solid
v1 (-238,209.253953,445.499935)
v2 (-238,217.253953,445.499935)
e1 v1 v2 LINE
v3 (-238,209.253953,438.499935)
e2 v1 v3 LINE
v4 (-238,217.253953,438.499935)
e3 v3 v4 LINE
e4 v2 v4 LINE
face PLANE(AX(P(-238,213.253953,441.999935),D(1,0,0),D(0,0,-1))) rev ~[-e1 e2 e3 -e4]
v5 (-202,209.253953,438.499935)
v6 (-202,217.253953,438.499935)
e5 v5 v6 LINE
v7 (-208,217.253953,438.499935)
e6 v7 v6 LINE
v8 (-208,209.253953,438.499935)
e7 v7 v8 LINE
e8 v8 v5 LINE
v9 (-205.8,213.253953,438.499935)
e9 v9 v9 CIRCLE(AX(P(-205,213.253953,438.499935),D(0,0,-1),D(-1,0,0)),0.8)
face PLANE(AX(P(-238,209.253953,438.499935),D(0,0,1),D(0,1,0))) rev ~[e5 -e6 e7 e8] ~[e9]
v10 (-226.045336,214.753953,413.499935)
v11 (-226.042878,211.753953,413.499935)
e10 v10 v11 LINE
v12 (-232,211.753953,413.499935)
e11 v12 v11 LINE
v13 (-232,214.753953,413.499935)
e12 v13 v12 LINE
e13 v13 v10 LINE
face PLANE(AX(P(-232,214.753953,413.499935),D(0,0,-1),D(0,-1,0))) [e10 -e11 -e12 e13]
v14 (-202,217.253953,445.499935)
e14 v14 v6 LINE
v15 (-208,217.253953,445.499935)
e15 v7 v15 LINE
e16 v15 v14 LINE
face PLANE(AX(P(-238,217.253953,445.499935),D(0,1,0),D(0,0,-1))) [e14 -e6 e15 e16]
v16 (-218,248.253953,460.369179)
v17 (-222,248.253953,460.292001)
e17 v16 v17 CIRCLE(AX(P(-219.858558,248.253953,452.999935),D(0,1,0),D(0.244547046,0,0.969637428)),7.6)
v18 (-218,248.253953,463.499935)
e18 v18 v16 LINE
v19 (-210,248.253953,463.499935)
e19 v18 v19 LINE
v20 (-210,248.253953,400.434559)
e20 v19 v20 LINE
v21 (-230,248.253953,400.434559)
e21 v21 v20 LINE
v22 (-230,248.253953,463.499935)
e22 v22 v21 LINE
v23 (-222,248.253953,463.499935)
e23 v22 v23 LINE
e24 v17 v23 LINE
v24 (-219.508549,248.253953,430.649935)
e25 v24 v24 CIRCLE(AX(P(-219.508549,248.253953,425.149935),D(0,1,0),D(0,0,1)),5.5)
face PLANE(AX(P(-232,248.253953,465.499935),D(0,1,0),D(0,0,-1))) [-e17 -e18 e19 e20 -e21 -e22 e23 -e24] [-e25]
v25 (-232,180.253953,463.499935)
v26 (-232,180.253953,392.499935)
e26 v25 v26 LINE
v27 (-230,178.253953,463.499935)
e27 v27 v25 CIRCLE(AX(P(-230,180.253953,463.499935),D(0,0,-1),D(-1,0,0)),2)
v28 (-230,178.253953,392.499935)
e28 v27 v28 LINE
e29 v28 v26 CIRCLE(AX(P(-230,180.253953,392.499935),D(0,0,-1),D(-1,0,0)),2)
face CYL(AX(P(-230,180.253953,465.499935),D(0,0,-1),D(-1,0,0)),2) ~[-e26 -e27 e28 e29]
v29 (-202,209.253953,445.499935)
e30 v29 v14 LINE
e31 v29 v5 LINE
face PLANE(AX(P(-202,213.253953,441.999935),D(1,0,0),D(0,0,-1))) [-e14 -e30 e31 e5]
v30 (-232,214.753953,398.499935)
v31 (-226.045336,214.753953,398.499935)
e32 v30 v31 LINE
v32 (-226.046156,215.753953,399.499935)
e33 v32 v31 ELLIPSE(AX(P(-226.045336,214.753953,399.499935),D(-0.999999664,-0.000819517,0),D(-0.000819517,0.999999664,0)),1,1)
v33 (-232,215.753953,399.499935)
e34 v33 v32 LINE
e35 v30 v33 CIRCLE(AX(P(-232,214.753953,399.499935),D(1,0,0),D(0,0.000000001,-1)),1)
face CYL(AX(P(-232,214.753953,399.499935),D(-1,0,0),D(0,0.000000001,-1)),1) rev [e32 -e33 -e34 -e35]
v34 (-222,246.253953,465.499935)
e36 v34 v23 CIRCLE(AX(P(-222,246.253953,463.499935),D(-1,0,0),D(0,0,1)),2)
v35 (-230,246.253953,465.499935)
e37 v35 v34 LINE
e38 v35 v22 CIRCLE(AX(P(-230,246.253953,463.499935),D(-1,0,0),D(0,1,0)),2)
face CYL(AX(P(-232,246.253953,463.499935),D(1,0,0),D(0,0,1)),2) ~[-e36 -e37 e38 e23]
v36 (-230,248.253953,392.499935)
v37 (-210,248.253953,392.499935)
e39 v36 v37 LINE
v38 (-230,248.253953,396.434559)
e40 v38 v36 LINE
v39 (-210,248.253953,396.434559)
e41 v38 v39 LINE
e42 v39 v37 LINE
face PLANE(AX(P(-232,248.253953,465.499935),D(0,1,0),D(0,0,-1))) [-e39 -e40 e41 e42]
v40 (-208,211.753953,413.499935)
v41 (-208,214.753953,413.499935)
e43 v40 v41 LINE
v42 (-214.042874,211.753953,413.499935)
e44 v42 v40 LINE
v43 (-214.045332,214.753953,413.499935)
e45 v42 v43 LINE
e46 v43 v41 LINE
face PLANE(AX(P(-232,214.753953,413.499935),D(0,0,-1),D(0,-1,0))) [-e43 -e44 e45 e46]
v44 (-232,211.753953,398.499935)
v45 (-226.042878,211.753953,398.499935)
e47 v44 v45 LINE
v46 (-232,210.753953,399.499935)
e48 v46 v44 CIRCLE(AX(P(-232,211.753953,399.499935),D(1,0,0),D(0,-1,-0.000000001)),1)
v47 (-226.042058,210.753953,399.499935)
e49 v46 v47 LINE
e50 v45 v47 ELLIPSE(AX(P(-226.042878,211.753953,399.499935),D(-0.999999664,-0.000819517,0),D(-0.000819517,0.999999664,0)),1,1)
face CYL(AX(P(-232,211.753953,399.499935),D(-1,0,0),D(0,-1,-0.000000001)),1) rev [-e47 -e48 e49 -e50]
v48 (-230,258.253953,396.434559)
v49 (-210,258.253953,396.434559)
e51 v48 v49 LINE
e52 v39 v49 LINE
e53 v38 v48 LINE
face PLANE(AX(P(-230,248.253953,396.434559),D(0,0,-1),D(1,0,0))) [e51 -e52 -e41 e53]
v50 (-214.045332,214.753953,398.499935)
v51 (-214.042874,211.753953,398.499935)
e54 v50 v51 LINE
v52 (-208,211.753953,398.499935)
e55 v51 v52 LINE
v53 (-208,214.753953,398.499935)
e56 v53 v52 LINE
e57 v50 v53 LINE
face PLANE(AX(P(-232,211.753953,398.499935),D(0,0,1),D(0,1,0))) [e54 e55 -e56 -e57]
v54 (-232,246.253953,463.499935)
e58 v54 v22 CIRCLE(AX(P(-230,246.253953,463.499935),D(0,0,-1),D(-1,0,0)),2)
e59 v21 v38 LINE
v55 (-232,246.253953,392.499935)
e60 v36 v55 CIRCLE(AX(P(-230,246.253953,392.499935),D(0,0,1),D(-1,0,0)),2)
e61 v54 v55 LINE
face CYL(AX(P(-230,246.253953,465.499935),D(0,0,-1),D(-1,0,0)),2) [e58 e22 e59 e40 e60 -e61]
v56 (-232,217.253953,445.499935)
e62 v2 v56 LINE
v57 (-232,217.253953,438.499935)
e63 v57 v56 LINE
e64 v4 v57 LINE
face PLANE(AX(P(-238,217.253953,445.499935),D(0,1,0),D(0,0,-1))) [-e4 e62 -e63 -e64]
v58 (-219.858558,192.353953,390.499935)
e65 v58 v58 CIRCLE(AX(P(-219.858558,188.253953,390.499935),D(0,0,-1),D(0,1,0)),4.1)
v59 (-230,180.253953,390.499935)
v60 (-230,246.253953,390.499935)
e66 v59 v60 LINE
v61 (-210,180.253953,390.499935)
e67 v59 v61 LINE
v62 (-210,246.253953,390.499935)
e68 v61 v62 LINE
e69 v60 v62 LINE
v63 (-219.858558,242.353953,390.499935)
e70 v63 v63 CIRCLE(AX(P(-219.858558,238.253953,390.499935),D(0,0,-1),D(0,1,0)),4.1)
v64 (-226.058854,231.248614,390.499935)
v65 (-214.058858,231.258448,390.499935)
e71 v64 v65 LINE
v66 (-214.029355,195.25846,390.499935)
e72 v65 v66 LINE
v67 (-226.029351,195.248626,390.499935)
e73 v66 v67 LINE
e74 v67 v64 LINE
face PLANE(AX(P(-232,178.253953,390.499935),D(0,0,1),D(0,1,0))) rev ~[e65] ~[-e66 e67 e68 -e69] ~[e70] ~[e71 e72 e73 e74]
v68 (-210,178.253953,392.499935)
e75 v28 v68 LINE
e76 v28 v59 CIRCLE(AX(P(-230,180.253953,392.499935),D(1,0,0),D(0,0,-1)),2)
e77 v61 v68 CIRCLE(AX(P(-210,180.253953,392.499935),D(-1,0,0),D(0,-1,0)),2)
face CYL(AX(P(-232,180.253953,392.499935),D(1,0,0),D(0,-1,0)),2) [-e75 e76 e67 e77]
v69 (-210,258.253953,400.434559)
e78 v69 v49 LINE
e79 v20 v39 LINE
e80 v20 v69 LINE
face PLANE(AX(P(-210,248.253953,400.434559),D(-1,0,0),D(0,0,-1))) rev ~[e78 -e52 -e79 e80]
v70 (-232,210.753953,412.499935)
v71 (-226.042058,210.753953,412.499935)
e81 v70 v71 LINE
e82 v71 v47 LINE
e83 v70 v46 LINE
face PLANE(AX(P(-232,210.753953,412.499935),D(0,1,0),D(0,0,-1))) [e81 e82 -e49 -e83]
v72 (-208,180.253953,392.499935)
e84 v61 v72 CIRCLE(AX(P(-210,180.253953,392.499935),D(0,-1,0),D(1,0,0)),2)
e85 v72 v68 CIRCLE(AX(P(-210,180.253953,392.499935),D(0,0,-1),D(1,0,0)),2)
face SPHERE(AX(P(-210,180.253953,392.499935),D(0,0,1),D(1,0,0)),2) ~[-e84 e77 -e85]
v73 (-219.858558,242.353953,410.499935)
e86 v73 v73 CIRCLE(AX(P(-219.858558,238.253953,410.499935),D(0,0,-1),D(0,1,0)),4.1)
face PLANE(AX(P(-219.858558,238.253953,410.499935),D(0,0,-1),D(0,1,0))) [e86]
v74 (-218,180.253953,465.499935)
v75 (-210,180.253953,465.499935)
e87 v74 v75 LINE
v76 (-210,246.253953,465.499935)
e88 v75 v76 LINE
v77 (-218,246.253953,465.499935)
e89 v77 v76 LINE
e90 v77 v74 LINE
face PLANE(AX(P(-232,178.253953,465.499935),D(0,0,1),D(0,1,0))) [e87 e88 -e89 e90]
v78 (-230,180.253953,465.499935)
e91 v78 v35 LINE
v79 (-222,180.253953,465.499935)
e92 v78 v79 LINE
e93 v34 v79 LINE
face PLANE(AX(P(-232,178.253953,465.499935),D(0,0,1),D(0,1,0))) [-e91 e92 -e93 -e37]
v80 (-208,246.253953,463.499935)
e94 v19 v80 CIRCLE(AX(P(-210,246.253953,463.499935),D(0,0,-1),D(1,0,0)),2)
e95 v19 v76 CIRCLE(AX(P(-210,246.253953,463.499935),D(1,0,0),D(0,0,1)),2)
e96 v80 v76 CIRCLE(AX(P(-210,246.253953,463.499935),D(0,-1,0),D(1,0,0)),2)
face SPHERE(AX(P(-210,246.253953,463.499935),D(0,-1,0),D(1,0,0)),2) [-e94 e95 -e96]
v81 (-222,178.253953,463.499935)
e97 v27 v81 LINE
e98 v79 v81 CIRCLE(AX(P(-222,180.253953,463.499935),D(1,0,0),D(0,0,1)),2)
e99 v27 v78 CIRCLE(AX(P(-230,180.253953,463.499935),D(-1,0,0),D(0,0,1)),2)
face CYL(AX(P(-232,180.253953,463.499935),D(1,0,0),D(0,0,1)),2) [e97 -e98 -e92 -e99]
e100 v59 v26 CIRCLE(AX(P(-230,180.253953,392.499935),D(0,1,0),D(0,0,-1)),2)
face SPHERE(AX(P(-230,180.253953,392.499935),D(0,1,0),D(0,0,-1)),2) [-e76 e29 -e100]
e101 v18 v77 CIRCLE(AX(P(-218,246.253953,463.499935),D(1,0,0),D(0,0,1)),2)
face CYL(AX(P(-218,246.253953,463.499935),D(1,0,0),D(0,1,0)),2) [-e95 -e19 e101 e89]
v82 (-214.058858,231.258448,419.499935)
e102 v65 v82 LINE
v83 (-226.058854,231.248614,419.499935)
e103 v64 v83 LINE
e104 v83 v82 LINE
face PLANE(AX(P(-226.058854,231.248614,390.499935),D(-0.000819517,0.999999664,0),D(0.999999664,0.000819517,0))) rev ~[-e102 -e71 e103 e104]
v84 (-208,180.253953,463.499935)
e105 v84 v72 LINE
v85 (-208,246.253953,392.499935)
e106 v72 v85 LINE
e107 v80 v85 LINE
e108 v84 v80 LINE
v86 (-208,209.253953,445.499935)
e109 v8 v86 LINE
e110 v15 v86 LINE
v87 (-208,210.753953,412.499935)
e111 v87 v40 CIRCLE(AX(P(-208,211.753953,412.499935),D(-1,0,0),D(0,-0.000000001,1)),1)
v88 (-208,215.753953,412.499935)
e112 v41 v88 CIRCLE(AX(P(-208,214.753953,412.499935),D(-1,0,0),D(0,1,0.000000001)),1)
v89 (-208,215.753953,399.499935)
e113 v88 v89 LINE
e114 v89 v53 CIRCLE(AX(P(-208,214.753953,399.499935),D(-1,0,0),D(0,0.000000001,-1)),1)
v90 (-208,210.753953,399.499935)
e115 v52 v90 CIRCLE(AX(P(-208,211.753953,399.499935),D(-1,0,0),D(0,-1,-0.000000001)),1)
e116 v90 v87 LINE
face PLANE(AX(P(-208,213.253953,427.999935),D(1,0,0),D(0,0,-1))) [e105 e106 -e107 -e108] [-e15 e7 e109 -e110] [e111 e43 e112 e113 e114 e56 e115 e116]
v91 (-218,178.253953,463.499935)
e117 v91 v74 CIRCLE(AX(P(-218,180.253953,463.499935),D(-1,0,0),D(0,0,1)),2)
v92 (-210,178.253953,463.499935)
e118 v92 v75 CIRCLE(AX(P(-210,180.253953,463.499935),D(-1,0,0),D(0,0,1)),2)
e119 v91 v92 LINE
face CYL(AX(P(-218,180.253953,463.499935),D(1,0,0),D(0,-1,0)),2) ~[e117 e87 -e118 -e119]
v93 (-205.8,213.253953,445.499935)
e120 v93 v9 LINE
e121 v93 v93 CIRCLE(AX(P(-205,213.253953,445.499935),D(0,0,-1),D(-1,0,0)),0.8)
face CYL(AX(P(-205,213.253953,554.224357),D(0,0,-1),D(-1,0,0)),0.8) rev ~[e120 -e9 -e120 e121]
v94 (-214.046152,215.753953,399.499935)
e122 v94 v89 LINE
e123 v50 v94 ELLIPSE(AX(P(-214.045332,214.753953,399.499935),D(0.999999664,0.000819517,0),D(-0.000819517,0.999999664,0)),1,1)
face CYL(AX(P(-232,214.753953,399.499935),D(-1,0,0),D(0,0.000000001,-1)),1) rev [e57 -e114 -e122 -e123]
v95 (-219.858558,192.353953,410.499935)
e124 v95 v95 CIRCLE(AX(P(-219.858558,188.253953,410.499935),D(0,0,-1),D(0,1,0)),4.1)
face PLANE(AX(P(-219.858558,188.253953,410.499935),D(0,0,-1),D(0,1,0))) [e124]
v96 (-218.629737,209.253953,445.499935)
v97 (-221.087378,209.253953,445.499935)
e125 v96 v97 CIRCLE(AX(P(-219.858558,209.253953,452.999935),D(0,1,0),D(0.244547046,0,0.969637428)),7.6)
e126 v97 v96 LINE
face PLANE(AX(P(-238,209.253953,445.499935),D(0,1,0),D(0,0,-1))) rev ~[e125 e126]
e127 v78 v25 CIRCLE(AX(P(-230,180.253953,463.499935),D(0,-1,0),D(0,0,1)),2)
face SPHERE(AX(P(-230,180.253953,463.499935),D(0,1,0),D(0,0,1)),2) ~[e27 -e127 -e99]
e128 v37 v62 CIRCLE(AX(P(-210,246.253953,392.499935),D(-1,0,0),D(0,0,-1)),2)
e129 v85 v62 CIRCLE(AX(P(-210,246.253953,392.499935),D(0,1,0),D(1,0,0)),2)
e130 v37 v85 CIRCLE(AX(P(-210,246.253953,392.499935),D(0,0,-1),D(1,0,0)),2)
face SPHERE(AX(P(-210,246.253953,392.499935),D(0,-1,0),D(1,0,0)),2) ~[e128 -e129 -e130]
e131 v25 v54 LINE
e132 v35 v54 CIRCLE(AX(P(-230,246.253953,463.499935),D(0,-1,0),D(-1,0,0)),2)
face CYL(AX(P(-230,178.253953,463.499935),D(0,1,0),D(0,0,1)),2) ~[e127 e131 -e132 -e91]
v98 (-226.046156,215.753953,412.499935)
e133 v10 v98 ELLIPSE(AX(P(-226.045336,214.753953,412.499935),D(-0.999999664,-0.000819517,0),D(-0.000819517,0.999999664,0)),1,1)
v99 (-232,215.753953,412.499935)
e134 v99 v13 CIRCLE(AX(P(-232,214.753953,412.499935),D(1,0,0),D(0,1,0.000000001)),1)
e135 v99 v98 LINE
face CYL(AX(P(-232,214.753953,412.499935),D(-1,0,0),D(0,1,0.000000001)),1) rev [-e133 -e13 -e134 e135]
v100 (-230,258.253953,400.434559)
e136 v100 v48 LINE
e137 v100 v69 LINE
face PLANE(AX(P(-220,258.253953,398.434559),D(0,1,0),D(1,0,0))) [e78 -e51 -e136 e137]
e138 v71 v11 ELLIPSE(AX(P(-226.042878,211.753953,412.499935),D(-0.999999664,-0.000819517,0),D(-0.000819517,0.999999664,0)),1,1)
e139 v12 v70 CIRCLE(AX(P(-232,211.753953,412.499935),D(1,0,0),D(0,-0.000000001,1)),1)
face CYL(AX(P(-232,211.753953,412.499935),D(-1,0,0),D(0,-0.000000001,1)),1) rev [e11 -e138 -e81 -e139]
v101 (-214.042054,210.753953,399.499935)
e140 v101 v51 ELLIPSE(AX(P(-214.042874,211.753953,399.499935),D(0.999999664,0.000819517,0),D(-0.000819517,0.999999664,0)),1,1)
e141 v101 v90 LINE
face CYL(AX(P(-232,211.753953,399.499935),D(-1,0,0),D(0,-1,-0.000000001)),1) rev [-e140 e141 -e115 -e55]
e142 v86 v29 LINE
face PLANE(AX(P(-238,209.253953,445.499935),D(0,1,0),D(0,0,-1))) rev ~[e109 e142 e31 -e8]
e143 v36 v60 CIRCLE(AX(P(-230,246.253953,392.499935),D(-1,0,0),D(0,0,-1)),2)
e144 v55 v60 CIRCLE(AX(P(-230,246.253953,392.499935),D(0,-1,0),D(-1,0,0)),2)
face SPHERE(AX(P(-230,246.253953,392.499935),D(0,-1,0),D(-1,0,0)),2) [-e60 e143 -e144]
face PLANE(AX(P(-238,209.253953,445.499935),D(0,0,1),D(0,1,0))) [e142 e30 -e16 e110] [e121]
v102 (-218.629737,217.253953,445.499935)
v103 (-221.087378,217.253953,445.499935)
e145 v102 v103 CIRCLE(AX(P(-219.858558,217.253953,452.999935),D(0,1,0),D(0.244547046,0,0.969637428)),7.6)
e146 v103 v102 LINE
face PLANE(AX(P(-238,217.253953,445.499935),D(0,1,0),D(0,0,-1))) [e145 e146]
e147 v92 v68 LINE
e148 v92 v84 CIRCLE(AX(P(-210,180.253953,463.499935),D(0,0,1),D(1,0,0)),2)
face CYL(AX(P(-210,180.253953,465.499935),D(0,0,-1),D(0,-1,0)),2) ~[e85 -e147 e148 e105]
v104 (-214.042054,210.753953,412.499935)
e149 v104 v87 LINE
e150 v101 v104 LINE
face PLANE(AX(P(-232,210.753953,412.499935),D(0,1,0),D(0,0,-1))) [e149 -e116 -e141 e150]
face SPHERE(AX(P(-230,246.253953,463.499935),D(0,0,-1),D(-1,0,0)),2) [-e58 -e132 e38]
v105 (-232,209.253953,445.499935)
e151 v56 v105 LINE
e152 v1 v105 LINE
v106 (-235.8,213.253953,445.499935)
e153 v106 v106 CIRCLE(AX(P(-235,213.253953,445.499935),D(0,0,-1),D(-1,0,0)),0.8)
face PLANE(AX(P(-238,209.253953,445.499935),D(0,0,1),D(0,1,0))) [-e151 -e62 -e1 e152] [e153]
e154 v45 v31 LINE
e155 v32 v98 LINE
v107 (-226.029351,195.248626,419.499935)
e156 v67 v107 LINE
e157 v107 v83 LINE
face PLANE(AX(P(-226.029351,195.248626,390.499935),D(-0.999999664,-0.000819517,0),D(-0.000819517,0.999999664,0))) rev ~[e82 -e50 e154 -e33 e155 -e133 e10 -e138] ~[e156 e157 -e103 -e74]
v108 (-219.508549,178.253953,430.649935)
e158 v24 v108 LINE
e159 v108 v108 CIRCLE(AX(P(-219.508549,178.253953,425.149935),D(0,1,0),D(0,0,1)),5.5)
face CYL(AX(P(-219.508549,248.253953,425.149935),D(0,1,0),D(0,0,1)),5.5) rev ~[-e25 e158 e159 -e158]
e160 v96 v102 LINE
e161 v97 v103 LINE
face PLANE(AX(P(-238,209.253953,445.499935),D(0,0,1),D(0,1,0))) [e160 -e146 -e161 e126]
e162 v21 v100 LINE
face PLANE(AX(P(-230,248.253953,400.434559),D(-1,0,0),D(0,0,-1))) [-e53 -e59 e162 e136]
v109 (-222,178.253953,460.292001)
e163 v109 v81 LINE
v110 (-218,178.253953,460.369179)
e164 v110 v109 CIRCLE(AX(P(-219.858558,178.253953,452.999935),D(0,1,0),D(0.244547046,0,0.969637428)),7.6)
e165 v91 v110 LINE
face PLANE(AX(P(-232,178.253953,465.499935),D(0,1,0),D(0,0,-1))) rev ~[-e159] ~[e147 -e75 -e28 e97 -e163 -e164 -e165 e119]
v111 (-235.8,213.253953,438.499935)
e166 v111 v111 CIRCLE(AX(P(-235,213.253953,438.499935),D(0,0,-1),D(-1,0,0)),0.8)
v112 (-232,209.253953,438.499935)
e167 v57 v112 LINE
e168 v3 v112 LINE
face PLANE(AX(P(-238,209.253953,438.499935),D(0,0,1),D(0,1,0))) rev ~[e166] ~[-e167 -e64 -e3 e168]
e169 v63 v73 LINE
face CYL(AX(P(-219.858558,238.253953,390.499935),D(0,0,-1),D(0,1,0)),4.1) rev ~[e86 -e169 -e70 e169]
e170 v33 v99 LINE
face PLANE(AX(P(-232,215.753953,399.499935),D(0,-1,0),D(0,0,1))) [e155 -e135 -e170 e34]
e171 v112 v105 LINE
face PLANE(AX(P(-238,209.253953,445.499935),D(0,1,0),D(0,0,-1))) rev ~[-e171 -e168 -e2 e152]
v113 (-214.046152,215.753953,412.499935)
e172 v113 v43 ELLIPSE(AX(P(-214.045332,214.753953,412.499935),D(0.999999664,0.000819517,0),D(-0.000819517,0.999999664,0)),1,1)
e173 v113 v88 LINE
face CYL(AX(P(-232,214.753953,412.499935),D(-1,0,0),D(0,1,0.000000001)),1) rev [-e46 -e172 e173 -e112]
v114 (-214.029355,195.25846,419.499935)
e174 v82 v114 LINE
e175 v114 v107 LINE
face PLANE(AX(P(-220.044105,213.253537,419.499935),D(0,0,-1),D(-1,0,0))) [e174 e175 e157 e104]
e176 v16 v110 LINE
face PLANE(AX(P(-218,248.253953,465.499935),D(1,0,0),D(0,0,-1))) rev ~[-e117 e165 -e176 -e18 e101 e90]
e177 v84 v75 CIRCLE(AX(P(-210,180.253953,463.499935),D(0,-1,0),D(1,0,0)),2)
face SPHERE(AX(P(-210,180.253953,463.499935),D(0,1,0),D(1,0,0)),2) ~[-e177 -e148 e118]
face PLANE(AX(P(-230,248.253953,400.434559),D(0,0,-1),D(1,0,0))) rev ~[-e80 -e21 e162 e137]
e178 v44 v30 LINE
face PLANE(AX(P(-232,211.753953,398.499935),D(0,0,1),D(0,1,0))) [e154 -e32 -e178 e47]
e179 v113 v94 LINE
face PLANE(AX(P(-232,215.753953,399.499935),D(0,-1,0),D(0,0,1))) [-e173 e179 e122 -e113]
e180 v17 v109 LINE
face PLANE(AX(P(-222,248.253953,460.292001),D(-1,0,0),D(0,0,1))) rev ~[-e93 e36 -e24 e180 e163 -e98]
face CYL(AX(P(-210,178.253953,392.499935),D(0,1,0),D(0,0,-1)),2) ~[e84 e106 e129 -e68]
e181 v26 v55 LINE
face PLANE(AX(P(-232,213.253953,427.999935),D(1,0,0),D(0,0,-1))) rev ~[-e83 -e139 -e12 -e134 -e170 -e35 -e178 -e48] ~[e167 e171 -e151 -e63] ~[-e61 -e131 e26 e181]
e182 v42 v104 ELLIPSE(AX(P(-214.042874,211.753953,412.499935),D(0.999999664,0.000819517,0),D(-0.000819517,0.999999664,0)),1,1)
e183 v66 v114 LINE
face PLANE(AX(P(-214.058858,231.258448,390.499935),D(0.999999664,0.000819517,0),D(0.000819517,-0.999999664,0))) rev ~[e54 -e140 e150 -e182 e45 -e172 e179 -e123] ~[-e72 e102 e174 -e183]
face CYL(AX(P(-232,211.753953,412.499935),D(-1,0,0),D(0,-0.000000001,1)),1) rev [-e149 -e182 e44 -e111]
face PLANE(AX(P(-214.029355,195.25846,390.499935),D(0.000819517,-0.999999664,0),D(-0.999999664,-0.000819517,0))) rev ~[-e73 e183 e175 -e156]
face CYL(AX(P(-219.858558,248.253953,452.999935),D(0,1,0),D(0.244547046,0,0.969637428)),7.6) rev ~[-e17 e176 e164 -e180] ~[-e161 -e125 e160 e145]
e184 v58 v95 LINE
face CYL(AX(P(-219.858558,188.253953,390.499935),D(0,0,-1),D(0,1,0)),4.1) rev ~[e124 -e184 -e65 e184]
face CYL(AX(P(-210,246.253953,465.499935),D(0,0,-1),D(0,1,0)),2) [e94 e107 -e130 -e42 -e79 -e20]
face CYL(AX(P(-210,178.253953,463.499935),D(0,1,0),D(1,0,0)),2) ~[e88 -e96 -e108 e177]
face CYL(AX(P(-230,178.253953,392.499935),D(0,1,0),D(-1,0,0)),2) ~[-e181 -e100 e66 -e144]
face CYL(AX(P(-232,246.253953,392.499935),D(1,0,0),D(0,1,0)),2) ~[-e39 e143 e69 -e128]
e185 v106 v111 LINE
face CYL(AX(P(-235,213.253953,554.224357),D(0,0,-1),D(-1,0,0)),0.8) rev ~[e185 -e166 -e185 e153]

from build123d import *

# Parameters (mm, degrees)
RESSALTO_EXTRUS_O1_DEPTH                   = 12
RESSALTO_EXTRUS_O1_DEPTH_BACK              = 12
ESBO_O1_W                                  = 75
ESBO_O1_H                                  = 70
ESBO_O3_R                                  = 5.5
CORTE_EXTRUS_O1_DEPTH                      = 525.799189678
ESBO_O4_R                                  = 4.1
CORTE_EXTRUS_O2_DEPTH                      = 20
FILETE1_R                                  = 2
CORTE_EXTRUS_O3_DEPTH                      = 29
CORTE_EXTRUS_O4_DEPTH                      = 28
RESSALTO_EXTRUS_O2_DEPTH                   = 6
RESSALTO_EXTRUS_O2_DEPTH_BACK              = 30
ESBO_O7_W                                  = 7
ESBO_O7_H                                  = 8
BROCA_DE_ROSQUEAR_PARA_TARRAXA_DE_M2X0_4_D = 1.6
BROCA_DE_ROSQUEAR_PARA_TARRAXA_DE_M2_2_D   = 1.6
ESBO_O18_W                                 = 20
ESBO_O18_H                                 = 4
RESSALTO_EXTRUS_O3_DEPTH                   = 10


with BuildPart() as part:
    # Esboço1 → Ressalto-extrusão1 (new, two sides: drawn at the far end of the back side and taken through both)
    with BuildSketch(Plane(origin=(-220, 0, 0), x_dir=(0, 0, -1), z_dir=(1, 0, 0)).offset(-RESSALTO_EXTRUS_O1_DEPTH_BACK)):
        with Locations((-427.999935002, 213.253952806)):
            Rectangle(ESBO_O1_W, ESBO_O1_H)
    extrude(amount=RESSALTO_EXTRUS_O1_DEPTH + RESSALTO_EXTRUS_O1_DEPTH_BACK)

    # Esboço3 → Corte-extrusão1 (cut, through all)
    with BuildSketch(Plane(origin=(0, 248.253952806, 0), x_dir=(1, 0, 0), z_dir=(0, 1, 0))):
        with Locations((-219.508549322, -425.149935105)):
            Circle(ESBO_O3_R)
        with BuildLine():
            Line((-220, -465.499935002), (-218, -465.499935002))
            Line((-218, -465.499935002), (-218, -460.369179456))
            ThreePointArc((-218, -460.369179456), (-219.711945476, -445.401349285), (-222, -460.292000844))
            Line((-222, -460.292000844), (-222, -465.499935002))
            Line((-222, -465.499935002), (-220, -465.499935002))
        make_face()
    extrude(amount=-CORTE_EXTRUS_O1_DEPTH, mode=Mode.SUBTRACT)

    # Esboço4 → Corte-extrusão2 (cut)
    with BuildSketch(Plane(origin=(0, 0, 390.499935002), x_dir=(-1, 0, 0), z_dir=(0, 0, -1))):
        with Locations((219.858557552, 238.253952806)):
            Circle(ESBO_O4_R)
        with Locations((219.858557552, 188.253952806)):
            Circle(ESBO_O4_R)
    extrude(amount=-CORTE_EXTRUS_O2_DEPTH, mode=Mode.SUBTRACT)

    # Filete1
    filete1_edges = [part.edges().sort_by_distance(p)[0] for p in [
        (-227, 178.253952806, 465.499935002),
        (-213, 178.253952806, 465.499935002),
        (-213, 248.253952806, 465.499935002),
        (-227, 248.253952806, 465.499935002),
        (-208, 178.253952806, 427.999935002),
        (-208, 248.253952806, 427.999935002),
        (-208, 213.253952806, 465.499935002),
        (-232, 178.253952806, 427.999935002),
        (-232, 213.253952806, 465.499935002),
        (-232, 248.253952806, 427.999935002),
        (-220, 248.253952806, 390.499935002),
        (-220, 178.253952806, 390.499935002),
        (-208, 213.253952806, 390.499935002),
        (-232, 213.253952806, 390.499935002),
    ]]
    fillet(filete1_edges, radius=FILETE1_R)

    # Esboço5 → Corte-extrusão3 (cut)
    with BuildSketch(Plane(origin=(0, 0, 390.499935002), x_dir=(-1, 0, 0), z_dir=(0, 0, -1))):
        Polygon((214.029355297, 195.258459884), (226.029351267, 195.248625677), (226.058853888, 231.248613588), (214.058857917, 231.258447795), align=None)
    extrude(amount=-CORTE_EXTRUS_O3_DEPTH, mode=Mode.SUBTRACT)

    # Esboço6 → Corte-extrusão4 (cut)
    with BuildSketch(Plane.ZY.offset(232)):
        with BuildLine():
            Line((399.499935002, 215.753952806), (412.499935002, 215.753952806))
            ThreePointArc((412.499935002, 215.753952806), (413.207041783, 215.461059587), (413.499935002, 214.753952806))
            Line((413.499935002, 214.753952806), (413.499935002, 211.753952806))
            ThreePointArc((413.499935002, 211.753952806), (413.207041783, 211.046846025), (412.499935002, 210.753952806))
            Line((412.499935002, 210.753952806), (399.499935002, 210.753952806))
            ThreePointArc((399.499935002, 210.753952806), (398.792828221, 211.046846025), (398.499935002, 211.753952806))
            Line((398.499935002, 211.753952806), (398.499935002, 214.753952806))
            ThreePointArc((398.499935002, 214.753952806), (398.792828221, 215.461059587), (399.499935002, 215.753952806))
        make_face()
    extrude(amount=-CORTE_EXTRUS_O4_DEPTH, mode=Mode.SUBTRACT)

    # Esboço7 → Ressalto-extrusão2 (add, two sides: drawn at the far end of the back side and taken through both)
    with BuildSketch(Plane(origin=(-208, 0, 0), x_dir=(0, 0, -1), z_dir=(1, 0, 0)).offset(-RESSALTO_EXTRUS_O2_DEPTH_BACK)):
        with Locations((-441.999935002, 213.253952806)):
            Rectangle(ESBO_O7_W, ESBO_O7_H)
    extrude(amount=RESSALTO_EXTRUS_O2_DEPTH + RESSALTO_EXTRUS_O2_DEPTH_BACK)

    # Broca de rosquear para tarraxa de M2x0.4 (through all)
    with Locations(Plane.XY.offset(445.499935002)):
        with Locations((-205, 213.253952806)):
            Hole(BROCA_DE_ROSQUEAR_PARA_TARRAXA_DE_M2X0_4_D / 2)

    # Broca de rosquear para tarraxa de M2 2 (through all)
    with Locations(Plane.XY.offset(445.499935002)):
        with Locations((-235, 213.253952806)):
            Hole(BROCA_DE_ROSQUEAR_PARA_TARRAXA_DE_M2_2_D / 2)

    # Esboço18 → Ressalto-extrusão3 (add)
    with BuildSketch(Plane(origin=(0, 248.253952806, 0), x_dir=(1, 0, 0), z_dir=(0, 1, 0))):
        with Locations((-220, -398.434558943)):
            Rectangle(ESBO_O18_W, ESBO_O18_H)
    extrude(amount=RESSALTO_EXTRUS_O3_DEPTH)


solid = part.part
